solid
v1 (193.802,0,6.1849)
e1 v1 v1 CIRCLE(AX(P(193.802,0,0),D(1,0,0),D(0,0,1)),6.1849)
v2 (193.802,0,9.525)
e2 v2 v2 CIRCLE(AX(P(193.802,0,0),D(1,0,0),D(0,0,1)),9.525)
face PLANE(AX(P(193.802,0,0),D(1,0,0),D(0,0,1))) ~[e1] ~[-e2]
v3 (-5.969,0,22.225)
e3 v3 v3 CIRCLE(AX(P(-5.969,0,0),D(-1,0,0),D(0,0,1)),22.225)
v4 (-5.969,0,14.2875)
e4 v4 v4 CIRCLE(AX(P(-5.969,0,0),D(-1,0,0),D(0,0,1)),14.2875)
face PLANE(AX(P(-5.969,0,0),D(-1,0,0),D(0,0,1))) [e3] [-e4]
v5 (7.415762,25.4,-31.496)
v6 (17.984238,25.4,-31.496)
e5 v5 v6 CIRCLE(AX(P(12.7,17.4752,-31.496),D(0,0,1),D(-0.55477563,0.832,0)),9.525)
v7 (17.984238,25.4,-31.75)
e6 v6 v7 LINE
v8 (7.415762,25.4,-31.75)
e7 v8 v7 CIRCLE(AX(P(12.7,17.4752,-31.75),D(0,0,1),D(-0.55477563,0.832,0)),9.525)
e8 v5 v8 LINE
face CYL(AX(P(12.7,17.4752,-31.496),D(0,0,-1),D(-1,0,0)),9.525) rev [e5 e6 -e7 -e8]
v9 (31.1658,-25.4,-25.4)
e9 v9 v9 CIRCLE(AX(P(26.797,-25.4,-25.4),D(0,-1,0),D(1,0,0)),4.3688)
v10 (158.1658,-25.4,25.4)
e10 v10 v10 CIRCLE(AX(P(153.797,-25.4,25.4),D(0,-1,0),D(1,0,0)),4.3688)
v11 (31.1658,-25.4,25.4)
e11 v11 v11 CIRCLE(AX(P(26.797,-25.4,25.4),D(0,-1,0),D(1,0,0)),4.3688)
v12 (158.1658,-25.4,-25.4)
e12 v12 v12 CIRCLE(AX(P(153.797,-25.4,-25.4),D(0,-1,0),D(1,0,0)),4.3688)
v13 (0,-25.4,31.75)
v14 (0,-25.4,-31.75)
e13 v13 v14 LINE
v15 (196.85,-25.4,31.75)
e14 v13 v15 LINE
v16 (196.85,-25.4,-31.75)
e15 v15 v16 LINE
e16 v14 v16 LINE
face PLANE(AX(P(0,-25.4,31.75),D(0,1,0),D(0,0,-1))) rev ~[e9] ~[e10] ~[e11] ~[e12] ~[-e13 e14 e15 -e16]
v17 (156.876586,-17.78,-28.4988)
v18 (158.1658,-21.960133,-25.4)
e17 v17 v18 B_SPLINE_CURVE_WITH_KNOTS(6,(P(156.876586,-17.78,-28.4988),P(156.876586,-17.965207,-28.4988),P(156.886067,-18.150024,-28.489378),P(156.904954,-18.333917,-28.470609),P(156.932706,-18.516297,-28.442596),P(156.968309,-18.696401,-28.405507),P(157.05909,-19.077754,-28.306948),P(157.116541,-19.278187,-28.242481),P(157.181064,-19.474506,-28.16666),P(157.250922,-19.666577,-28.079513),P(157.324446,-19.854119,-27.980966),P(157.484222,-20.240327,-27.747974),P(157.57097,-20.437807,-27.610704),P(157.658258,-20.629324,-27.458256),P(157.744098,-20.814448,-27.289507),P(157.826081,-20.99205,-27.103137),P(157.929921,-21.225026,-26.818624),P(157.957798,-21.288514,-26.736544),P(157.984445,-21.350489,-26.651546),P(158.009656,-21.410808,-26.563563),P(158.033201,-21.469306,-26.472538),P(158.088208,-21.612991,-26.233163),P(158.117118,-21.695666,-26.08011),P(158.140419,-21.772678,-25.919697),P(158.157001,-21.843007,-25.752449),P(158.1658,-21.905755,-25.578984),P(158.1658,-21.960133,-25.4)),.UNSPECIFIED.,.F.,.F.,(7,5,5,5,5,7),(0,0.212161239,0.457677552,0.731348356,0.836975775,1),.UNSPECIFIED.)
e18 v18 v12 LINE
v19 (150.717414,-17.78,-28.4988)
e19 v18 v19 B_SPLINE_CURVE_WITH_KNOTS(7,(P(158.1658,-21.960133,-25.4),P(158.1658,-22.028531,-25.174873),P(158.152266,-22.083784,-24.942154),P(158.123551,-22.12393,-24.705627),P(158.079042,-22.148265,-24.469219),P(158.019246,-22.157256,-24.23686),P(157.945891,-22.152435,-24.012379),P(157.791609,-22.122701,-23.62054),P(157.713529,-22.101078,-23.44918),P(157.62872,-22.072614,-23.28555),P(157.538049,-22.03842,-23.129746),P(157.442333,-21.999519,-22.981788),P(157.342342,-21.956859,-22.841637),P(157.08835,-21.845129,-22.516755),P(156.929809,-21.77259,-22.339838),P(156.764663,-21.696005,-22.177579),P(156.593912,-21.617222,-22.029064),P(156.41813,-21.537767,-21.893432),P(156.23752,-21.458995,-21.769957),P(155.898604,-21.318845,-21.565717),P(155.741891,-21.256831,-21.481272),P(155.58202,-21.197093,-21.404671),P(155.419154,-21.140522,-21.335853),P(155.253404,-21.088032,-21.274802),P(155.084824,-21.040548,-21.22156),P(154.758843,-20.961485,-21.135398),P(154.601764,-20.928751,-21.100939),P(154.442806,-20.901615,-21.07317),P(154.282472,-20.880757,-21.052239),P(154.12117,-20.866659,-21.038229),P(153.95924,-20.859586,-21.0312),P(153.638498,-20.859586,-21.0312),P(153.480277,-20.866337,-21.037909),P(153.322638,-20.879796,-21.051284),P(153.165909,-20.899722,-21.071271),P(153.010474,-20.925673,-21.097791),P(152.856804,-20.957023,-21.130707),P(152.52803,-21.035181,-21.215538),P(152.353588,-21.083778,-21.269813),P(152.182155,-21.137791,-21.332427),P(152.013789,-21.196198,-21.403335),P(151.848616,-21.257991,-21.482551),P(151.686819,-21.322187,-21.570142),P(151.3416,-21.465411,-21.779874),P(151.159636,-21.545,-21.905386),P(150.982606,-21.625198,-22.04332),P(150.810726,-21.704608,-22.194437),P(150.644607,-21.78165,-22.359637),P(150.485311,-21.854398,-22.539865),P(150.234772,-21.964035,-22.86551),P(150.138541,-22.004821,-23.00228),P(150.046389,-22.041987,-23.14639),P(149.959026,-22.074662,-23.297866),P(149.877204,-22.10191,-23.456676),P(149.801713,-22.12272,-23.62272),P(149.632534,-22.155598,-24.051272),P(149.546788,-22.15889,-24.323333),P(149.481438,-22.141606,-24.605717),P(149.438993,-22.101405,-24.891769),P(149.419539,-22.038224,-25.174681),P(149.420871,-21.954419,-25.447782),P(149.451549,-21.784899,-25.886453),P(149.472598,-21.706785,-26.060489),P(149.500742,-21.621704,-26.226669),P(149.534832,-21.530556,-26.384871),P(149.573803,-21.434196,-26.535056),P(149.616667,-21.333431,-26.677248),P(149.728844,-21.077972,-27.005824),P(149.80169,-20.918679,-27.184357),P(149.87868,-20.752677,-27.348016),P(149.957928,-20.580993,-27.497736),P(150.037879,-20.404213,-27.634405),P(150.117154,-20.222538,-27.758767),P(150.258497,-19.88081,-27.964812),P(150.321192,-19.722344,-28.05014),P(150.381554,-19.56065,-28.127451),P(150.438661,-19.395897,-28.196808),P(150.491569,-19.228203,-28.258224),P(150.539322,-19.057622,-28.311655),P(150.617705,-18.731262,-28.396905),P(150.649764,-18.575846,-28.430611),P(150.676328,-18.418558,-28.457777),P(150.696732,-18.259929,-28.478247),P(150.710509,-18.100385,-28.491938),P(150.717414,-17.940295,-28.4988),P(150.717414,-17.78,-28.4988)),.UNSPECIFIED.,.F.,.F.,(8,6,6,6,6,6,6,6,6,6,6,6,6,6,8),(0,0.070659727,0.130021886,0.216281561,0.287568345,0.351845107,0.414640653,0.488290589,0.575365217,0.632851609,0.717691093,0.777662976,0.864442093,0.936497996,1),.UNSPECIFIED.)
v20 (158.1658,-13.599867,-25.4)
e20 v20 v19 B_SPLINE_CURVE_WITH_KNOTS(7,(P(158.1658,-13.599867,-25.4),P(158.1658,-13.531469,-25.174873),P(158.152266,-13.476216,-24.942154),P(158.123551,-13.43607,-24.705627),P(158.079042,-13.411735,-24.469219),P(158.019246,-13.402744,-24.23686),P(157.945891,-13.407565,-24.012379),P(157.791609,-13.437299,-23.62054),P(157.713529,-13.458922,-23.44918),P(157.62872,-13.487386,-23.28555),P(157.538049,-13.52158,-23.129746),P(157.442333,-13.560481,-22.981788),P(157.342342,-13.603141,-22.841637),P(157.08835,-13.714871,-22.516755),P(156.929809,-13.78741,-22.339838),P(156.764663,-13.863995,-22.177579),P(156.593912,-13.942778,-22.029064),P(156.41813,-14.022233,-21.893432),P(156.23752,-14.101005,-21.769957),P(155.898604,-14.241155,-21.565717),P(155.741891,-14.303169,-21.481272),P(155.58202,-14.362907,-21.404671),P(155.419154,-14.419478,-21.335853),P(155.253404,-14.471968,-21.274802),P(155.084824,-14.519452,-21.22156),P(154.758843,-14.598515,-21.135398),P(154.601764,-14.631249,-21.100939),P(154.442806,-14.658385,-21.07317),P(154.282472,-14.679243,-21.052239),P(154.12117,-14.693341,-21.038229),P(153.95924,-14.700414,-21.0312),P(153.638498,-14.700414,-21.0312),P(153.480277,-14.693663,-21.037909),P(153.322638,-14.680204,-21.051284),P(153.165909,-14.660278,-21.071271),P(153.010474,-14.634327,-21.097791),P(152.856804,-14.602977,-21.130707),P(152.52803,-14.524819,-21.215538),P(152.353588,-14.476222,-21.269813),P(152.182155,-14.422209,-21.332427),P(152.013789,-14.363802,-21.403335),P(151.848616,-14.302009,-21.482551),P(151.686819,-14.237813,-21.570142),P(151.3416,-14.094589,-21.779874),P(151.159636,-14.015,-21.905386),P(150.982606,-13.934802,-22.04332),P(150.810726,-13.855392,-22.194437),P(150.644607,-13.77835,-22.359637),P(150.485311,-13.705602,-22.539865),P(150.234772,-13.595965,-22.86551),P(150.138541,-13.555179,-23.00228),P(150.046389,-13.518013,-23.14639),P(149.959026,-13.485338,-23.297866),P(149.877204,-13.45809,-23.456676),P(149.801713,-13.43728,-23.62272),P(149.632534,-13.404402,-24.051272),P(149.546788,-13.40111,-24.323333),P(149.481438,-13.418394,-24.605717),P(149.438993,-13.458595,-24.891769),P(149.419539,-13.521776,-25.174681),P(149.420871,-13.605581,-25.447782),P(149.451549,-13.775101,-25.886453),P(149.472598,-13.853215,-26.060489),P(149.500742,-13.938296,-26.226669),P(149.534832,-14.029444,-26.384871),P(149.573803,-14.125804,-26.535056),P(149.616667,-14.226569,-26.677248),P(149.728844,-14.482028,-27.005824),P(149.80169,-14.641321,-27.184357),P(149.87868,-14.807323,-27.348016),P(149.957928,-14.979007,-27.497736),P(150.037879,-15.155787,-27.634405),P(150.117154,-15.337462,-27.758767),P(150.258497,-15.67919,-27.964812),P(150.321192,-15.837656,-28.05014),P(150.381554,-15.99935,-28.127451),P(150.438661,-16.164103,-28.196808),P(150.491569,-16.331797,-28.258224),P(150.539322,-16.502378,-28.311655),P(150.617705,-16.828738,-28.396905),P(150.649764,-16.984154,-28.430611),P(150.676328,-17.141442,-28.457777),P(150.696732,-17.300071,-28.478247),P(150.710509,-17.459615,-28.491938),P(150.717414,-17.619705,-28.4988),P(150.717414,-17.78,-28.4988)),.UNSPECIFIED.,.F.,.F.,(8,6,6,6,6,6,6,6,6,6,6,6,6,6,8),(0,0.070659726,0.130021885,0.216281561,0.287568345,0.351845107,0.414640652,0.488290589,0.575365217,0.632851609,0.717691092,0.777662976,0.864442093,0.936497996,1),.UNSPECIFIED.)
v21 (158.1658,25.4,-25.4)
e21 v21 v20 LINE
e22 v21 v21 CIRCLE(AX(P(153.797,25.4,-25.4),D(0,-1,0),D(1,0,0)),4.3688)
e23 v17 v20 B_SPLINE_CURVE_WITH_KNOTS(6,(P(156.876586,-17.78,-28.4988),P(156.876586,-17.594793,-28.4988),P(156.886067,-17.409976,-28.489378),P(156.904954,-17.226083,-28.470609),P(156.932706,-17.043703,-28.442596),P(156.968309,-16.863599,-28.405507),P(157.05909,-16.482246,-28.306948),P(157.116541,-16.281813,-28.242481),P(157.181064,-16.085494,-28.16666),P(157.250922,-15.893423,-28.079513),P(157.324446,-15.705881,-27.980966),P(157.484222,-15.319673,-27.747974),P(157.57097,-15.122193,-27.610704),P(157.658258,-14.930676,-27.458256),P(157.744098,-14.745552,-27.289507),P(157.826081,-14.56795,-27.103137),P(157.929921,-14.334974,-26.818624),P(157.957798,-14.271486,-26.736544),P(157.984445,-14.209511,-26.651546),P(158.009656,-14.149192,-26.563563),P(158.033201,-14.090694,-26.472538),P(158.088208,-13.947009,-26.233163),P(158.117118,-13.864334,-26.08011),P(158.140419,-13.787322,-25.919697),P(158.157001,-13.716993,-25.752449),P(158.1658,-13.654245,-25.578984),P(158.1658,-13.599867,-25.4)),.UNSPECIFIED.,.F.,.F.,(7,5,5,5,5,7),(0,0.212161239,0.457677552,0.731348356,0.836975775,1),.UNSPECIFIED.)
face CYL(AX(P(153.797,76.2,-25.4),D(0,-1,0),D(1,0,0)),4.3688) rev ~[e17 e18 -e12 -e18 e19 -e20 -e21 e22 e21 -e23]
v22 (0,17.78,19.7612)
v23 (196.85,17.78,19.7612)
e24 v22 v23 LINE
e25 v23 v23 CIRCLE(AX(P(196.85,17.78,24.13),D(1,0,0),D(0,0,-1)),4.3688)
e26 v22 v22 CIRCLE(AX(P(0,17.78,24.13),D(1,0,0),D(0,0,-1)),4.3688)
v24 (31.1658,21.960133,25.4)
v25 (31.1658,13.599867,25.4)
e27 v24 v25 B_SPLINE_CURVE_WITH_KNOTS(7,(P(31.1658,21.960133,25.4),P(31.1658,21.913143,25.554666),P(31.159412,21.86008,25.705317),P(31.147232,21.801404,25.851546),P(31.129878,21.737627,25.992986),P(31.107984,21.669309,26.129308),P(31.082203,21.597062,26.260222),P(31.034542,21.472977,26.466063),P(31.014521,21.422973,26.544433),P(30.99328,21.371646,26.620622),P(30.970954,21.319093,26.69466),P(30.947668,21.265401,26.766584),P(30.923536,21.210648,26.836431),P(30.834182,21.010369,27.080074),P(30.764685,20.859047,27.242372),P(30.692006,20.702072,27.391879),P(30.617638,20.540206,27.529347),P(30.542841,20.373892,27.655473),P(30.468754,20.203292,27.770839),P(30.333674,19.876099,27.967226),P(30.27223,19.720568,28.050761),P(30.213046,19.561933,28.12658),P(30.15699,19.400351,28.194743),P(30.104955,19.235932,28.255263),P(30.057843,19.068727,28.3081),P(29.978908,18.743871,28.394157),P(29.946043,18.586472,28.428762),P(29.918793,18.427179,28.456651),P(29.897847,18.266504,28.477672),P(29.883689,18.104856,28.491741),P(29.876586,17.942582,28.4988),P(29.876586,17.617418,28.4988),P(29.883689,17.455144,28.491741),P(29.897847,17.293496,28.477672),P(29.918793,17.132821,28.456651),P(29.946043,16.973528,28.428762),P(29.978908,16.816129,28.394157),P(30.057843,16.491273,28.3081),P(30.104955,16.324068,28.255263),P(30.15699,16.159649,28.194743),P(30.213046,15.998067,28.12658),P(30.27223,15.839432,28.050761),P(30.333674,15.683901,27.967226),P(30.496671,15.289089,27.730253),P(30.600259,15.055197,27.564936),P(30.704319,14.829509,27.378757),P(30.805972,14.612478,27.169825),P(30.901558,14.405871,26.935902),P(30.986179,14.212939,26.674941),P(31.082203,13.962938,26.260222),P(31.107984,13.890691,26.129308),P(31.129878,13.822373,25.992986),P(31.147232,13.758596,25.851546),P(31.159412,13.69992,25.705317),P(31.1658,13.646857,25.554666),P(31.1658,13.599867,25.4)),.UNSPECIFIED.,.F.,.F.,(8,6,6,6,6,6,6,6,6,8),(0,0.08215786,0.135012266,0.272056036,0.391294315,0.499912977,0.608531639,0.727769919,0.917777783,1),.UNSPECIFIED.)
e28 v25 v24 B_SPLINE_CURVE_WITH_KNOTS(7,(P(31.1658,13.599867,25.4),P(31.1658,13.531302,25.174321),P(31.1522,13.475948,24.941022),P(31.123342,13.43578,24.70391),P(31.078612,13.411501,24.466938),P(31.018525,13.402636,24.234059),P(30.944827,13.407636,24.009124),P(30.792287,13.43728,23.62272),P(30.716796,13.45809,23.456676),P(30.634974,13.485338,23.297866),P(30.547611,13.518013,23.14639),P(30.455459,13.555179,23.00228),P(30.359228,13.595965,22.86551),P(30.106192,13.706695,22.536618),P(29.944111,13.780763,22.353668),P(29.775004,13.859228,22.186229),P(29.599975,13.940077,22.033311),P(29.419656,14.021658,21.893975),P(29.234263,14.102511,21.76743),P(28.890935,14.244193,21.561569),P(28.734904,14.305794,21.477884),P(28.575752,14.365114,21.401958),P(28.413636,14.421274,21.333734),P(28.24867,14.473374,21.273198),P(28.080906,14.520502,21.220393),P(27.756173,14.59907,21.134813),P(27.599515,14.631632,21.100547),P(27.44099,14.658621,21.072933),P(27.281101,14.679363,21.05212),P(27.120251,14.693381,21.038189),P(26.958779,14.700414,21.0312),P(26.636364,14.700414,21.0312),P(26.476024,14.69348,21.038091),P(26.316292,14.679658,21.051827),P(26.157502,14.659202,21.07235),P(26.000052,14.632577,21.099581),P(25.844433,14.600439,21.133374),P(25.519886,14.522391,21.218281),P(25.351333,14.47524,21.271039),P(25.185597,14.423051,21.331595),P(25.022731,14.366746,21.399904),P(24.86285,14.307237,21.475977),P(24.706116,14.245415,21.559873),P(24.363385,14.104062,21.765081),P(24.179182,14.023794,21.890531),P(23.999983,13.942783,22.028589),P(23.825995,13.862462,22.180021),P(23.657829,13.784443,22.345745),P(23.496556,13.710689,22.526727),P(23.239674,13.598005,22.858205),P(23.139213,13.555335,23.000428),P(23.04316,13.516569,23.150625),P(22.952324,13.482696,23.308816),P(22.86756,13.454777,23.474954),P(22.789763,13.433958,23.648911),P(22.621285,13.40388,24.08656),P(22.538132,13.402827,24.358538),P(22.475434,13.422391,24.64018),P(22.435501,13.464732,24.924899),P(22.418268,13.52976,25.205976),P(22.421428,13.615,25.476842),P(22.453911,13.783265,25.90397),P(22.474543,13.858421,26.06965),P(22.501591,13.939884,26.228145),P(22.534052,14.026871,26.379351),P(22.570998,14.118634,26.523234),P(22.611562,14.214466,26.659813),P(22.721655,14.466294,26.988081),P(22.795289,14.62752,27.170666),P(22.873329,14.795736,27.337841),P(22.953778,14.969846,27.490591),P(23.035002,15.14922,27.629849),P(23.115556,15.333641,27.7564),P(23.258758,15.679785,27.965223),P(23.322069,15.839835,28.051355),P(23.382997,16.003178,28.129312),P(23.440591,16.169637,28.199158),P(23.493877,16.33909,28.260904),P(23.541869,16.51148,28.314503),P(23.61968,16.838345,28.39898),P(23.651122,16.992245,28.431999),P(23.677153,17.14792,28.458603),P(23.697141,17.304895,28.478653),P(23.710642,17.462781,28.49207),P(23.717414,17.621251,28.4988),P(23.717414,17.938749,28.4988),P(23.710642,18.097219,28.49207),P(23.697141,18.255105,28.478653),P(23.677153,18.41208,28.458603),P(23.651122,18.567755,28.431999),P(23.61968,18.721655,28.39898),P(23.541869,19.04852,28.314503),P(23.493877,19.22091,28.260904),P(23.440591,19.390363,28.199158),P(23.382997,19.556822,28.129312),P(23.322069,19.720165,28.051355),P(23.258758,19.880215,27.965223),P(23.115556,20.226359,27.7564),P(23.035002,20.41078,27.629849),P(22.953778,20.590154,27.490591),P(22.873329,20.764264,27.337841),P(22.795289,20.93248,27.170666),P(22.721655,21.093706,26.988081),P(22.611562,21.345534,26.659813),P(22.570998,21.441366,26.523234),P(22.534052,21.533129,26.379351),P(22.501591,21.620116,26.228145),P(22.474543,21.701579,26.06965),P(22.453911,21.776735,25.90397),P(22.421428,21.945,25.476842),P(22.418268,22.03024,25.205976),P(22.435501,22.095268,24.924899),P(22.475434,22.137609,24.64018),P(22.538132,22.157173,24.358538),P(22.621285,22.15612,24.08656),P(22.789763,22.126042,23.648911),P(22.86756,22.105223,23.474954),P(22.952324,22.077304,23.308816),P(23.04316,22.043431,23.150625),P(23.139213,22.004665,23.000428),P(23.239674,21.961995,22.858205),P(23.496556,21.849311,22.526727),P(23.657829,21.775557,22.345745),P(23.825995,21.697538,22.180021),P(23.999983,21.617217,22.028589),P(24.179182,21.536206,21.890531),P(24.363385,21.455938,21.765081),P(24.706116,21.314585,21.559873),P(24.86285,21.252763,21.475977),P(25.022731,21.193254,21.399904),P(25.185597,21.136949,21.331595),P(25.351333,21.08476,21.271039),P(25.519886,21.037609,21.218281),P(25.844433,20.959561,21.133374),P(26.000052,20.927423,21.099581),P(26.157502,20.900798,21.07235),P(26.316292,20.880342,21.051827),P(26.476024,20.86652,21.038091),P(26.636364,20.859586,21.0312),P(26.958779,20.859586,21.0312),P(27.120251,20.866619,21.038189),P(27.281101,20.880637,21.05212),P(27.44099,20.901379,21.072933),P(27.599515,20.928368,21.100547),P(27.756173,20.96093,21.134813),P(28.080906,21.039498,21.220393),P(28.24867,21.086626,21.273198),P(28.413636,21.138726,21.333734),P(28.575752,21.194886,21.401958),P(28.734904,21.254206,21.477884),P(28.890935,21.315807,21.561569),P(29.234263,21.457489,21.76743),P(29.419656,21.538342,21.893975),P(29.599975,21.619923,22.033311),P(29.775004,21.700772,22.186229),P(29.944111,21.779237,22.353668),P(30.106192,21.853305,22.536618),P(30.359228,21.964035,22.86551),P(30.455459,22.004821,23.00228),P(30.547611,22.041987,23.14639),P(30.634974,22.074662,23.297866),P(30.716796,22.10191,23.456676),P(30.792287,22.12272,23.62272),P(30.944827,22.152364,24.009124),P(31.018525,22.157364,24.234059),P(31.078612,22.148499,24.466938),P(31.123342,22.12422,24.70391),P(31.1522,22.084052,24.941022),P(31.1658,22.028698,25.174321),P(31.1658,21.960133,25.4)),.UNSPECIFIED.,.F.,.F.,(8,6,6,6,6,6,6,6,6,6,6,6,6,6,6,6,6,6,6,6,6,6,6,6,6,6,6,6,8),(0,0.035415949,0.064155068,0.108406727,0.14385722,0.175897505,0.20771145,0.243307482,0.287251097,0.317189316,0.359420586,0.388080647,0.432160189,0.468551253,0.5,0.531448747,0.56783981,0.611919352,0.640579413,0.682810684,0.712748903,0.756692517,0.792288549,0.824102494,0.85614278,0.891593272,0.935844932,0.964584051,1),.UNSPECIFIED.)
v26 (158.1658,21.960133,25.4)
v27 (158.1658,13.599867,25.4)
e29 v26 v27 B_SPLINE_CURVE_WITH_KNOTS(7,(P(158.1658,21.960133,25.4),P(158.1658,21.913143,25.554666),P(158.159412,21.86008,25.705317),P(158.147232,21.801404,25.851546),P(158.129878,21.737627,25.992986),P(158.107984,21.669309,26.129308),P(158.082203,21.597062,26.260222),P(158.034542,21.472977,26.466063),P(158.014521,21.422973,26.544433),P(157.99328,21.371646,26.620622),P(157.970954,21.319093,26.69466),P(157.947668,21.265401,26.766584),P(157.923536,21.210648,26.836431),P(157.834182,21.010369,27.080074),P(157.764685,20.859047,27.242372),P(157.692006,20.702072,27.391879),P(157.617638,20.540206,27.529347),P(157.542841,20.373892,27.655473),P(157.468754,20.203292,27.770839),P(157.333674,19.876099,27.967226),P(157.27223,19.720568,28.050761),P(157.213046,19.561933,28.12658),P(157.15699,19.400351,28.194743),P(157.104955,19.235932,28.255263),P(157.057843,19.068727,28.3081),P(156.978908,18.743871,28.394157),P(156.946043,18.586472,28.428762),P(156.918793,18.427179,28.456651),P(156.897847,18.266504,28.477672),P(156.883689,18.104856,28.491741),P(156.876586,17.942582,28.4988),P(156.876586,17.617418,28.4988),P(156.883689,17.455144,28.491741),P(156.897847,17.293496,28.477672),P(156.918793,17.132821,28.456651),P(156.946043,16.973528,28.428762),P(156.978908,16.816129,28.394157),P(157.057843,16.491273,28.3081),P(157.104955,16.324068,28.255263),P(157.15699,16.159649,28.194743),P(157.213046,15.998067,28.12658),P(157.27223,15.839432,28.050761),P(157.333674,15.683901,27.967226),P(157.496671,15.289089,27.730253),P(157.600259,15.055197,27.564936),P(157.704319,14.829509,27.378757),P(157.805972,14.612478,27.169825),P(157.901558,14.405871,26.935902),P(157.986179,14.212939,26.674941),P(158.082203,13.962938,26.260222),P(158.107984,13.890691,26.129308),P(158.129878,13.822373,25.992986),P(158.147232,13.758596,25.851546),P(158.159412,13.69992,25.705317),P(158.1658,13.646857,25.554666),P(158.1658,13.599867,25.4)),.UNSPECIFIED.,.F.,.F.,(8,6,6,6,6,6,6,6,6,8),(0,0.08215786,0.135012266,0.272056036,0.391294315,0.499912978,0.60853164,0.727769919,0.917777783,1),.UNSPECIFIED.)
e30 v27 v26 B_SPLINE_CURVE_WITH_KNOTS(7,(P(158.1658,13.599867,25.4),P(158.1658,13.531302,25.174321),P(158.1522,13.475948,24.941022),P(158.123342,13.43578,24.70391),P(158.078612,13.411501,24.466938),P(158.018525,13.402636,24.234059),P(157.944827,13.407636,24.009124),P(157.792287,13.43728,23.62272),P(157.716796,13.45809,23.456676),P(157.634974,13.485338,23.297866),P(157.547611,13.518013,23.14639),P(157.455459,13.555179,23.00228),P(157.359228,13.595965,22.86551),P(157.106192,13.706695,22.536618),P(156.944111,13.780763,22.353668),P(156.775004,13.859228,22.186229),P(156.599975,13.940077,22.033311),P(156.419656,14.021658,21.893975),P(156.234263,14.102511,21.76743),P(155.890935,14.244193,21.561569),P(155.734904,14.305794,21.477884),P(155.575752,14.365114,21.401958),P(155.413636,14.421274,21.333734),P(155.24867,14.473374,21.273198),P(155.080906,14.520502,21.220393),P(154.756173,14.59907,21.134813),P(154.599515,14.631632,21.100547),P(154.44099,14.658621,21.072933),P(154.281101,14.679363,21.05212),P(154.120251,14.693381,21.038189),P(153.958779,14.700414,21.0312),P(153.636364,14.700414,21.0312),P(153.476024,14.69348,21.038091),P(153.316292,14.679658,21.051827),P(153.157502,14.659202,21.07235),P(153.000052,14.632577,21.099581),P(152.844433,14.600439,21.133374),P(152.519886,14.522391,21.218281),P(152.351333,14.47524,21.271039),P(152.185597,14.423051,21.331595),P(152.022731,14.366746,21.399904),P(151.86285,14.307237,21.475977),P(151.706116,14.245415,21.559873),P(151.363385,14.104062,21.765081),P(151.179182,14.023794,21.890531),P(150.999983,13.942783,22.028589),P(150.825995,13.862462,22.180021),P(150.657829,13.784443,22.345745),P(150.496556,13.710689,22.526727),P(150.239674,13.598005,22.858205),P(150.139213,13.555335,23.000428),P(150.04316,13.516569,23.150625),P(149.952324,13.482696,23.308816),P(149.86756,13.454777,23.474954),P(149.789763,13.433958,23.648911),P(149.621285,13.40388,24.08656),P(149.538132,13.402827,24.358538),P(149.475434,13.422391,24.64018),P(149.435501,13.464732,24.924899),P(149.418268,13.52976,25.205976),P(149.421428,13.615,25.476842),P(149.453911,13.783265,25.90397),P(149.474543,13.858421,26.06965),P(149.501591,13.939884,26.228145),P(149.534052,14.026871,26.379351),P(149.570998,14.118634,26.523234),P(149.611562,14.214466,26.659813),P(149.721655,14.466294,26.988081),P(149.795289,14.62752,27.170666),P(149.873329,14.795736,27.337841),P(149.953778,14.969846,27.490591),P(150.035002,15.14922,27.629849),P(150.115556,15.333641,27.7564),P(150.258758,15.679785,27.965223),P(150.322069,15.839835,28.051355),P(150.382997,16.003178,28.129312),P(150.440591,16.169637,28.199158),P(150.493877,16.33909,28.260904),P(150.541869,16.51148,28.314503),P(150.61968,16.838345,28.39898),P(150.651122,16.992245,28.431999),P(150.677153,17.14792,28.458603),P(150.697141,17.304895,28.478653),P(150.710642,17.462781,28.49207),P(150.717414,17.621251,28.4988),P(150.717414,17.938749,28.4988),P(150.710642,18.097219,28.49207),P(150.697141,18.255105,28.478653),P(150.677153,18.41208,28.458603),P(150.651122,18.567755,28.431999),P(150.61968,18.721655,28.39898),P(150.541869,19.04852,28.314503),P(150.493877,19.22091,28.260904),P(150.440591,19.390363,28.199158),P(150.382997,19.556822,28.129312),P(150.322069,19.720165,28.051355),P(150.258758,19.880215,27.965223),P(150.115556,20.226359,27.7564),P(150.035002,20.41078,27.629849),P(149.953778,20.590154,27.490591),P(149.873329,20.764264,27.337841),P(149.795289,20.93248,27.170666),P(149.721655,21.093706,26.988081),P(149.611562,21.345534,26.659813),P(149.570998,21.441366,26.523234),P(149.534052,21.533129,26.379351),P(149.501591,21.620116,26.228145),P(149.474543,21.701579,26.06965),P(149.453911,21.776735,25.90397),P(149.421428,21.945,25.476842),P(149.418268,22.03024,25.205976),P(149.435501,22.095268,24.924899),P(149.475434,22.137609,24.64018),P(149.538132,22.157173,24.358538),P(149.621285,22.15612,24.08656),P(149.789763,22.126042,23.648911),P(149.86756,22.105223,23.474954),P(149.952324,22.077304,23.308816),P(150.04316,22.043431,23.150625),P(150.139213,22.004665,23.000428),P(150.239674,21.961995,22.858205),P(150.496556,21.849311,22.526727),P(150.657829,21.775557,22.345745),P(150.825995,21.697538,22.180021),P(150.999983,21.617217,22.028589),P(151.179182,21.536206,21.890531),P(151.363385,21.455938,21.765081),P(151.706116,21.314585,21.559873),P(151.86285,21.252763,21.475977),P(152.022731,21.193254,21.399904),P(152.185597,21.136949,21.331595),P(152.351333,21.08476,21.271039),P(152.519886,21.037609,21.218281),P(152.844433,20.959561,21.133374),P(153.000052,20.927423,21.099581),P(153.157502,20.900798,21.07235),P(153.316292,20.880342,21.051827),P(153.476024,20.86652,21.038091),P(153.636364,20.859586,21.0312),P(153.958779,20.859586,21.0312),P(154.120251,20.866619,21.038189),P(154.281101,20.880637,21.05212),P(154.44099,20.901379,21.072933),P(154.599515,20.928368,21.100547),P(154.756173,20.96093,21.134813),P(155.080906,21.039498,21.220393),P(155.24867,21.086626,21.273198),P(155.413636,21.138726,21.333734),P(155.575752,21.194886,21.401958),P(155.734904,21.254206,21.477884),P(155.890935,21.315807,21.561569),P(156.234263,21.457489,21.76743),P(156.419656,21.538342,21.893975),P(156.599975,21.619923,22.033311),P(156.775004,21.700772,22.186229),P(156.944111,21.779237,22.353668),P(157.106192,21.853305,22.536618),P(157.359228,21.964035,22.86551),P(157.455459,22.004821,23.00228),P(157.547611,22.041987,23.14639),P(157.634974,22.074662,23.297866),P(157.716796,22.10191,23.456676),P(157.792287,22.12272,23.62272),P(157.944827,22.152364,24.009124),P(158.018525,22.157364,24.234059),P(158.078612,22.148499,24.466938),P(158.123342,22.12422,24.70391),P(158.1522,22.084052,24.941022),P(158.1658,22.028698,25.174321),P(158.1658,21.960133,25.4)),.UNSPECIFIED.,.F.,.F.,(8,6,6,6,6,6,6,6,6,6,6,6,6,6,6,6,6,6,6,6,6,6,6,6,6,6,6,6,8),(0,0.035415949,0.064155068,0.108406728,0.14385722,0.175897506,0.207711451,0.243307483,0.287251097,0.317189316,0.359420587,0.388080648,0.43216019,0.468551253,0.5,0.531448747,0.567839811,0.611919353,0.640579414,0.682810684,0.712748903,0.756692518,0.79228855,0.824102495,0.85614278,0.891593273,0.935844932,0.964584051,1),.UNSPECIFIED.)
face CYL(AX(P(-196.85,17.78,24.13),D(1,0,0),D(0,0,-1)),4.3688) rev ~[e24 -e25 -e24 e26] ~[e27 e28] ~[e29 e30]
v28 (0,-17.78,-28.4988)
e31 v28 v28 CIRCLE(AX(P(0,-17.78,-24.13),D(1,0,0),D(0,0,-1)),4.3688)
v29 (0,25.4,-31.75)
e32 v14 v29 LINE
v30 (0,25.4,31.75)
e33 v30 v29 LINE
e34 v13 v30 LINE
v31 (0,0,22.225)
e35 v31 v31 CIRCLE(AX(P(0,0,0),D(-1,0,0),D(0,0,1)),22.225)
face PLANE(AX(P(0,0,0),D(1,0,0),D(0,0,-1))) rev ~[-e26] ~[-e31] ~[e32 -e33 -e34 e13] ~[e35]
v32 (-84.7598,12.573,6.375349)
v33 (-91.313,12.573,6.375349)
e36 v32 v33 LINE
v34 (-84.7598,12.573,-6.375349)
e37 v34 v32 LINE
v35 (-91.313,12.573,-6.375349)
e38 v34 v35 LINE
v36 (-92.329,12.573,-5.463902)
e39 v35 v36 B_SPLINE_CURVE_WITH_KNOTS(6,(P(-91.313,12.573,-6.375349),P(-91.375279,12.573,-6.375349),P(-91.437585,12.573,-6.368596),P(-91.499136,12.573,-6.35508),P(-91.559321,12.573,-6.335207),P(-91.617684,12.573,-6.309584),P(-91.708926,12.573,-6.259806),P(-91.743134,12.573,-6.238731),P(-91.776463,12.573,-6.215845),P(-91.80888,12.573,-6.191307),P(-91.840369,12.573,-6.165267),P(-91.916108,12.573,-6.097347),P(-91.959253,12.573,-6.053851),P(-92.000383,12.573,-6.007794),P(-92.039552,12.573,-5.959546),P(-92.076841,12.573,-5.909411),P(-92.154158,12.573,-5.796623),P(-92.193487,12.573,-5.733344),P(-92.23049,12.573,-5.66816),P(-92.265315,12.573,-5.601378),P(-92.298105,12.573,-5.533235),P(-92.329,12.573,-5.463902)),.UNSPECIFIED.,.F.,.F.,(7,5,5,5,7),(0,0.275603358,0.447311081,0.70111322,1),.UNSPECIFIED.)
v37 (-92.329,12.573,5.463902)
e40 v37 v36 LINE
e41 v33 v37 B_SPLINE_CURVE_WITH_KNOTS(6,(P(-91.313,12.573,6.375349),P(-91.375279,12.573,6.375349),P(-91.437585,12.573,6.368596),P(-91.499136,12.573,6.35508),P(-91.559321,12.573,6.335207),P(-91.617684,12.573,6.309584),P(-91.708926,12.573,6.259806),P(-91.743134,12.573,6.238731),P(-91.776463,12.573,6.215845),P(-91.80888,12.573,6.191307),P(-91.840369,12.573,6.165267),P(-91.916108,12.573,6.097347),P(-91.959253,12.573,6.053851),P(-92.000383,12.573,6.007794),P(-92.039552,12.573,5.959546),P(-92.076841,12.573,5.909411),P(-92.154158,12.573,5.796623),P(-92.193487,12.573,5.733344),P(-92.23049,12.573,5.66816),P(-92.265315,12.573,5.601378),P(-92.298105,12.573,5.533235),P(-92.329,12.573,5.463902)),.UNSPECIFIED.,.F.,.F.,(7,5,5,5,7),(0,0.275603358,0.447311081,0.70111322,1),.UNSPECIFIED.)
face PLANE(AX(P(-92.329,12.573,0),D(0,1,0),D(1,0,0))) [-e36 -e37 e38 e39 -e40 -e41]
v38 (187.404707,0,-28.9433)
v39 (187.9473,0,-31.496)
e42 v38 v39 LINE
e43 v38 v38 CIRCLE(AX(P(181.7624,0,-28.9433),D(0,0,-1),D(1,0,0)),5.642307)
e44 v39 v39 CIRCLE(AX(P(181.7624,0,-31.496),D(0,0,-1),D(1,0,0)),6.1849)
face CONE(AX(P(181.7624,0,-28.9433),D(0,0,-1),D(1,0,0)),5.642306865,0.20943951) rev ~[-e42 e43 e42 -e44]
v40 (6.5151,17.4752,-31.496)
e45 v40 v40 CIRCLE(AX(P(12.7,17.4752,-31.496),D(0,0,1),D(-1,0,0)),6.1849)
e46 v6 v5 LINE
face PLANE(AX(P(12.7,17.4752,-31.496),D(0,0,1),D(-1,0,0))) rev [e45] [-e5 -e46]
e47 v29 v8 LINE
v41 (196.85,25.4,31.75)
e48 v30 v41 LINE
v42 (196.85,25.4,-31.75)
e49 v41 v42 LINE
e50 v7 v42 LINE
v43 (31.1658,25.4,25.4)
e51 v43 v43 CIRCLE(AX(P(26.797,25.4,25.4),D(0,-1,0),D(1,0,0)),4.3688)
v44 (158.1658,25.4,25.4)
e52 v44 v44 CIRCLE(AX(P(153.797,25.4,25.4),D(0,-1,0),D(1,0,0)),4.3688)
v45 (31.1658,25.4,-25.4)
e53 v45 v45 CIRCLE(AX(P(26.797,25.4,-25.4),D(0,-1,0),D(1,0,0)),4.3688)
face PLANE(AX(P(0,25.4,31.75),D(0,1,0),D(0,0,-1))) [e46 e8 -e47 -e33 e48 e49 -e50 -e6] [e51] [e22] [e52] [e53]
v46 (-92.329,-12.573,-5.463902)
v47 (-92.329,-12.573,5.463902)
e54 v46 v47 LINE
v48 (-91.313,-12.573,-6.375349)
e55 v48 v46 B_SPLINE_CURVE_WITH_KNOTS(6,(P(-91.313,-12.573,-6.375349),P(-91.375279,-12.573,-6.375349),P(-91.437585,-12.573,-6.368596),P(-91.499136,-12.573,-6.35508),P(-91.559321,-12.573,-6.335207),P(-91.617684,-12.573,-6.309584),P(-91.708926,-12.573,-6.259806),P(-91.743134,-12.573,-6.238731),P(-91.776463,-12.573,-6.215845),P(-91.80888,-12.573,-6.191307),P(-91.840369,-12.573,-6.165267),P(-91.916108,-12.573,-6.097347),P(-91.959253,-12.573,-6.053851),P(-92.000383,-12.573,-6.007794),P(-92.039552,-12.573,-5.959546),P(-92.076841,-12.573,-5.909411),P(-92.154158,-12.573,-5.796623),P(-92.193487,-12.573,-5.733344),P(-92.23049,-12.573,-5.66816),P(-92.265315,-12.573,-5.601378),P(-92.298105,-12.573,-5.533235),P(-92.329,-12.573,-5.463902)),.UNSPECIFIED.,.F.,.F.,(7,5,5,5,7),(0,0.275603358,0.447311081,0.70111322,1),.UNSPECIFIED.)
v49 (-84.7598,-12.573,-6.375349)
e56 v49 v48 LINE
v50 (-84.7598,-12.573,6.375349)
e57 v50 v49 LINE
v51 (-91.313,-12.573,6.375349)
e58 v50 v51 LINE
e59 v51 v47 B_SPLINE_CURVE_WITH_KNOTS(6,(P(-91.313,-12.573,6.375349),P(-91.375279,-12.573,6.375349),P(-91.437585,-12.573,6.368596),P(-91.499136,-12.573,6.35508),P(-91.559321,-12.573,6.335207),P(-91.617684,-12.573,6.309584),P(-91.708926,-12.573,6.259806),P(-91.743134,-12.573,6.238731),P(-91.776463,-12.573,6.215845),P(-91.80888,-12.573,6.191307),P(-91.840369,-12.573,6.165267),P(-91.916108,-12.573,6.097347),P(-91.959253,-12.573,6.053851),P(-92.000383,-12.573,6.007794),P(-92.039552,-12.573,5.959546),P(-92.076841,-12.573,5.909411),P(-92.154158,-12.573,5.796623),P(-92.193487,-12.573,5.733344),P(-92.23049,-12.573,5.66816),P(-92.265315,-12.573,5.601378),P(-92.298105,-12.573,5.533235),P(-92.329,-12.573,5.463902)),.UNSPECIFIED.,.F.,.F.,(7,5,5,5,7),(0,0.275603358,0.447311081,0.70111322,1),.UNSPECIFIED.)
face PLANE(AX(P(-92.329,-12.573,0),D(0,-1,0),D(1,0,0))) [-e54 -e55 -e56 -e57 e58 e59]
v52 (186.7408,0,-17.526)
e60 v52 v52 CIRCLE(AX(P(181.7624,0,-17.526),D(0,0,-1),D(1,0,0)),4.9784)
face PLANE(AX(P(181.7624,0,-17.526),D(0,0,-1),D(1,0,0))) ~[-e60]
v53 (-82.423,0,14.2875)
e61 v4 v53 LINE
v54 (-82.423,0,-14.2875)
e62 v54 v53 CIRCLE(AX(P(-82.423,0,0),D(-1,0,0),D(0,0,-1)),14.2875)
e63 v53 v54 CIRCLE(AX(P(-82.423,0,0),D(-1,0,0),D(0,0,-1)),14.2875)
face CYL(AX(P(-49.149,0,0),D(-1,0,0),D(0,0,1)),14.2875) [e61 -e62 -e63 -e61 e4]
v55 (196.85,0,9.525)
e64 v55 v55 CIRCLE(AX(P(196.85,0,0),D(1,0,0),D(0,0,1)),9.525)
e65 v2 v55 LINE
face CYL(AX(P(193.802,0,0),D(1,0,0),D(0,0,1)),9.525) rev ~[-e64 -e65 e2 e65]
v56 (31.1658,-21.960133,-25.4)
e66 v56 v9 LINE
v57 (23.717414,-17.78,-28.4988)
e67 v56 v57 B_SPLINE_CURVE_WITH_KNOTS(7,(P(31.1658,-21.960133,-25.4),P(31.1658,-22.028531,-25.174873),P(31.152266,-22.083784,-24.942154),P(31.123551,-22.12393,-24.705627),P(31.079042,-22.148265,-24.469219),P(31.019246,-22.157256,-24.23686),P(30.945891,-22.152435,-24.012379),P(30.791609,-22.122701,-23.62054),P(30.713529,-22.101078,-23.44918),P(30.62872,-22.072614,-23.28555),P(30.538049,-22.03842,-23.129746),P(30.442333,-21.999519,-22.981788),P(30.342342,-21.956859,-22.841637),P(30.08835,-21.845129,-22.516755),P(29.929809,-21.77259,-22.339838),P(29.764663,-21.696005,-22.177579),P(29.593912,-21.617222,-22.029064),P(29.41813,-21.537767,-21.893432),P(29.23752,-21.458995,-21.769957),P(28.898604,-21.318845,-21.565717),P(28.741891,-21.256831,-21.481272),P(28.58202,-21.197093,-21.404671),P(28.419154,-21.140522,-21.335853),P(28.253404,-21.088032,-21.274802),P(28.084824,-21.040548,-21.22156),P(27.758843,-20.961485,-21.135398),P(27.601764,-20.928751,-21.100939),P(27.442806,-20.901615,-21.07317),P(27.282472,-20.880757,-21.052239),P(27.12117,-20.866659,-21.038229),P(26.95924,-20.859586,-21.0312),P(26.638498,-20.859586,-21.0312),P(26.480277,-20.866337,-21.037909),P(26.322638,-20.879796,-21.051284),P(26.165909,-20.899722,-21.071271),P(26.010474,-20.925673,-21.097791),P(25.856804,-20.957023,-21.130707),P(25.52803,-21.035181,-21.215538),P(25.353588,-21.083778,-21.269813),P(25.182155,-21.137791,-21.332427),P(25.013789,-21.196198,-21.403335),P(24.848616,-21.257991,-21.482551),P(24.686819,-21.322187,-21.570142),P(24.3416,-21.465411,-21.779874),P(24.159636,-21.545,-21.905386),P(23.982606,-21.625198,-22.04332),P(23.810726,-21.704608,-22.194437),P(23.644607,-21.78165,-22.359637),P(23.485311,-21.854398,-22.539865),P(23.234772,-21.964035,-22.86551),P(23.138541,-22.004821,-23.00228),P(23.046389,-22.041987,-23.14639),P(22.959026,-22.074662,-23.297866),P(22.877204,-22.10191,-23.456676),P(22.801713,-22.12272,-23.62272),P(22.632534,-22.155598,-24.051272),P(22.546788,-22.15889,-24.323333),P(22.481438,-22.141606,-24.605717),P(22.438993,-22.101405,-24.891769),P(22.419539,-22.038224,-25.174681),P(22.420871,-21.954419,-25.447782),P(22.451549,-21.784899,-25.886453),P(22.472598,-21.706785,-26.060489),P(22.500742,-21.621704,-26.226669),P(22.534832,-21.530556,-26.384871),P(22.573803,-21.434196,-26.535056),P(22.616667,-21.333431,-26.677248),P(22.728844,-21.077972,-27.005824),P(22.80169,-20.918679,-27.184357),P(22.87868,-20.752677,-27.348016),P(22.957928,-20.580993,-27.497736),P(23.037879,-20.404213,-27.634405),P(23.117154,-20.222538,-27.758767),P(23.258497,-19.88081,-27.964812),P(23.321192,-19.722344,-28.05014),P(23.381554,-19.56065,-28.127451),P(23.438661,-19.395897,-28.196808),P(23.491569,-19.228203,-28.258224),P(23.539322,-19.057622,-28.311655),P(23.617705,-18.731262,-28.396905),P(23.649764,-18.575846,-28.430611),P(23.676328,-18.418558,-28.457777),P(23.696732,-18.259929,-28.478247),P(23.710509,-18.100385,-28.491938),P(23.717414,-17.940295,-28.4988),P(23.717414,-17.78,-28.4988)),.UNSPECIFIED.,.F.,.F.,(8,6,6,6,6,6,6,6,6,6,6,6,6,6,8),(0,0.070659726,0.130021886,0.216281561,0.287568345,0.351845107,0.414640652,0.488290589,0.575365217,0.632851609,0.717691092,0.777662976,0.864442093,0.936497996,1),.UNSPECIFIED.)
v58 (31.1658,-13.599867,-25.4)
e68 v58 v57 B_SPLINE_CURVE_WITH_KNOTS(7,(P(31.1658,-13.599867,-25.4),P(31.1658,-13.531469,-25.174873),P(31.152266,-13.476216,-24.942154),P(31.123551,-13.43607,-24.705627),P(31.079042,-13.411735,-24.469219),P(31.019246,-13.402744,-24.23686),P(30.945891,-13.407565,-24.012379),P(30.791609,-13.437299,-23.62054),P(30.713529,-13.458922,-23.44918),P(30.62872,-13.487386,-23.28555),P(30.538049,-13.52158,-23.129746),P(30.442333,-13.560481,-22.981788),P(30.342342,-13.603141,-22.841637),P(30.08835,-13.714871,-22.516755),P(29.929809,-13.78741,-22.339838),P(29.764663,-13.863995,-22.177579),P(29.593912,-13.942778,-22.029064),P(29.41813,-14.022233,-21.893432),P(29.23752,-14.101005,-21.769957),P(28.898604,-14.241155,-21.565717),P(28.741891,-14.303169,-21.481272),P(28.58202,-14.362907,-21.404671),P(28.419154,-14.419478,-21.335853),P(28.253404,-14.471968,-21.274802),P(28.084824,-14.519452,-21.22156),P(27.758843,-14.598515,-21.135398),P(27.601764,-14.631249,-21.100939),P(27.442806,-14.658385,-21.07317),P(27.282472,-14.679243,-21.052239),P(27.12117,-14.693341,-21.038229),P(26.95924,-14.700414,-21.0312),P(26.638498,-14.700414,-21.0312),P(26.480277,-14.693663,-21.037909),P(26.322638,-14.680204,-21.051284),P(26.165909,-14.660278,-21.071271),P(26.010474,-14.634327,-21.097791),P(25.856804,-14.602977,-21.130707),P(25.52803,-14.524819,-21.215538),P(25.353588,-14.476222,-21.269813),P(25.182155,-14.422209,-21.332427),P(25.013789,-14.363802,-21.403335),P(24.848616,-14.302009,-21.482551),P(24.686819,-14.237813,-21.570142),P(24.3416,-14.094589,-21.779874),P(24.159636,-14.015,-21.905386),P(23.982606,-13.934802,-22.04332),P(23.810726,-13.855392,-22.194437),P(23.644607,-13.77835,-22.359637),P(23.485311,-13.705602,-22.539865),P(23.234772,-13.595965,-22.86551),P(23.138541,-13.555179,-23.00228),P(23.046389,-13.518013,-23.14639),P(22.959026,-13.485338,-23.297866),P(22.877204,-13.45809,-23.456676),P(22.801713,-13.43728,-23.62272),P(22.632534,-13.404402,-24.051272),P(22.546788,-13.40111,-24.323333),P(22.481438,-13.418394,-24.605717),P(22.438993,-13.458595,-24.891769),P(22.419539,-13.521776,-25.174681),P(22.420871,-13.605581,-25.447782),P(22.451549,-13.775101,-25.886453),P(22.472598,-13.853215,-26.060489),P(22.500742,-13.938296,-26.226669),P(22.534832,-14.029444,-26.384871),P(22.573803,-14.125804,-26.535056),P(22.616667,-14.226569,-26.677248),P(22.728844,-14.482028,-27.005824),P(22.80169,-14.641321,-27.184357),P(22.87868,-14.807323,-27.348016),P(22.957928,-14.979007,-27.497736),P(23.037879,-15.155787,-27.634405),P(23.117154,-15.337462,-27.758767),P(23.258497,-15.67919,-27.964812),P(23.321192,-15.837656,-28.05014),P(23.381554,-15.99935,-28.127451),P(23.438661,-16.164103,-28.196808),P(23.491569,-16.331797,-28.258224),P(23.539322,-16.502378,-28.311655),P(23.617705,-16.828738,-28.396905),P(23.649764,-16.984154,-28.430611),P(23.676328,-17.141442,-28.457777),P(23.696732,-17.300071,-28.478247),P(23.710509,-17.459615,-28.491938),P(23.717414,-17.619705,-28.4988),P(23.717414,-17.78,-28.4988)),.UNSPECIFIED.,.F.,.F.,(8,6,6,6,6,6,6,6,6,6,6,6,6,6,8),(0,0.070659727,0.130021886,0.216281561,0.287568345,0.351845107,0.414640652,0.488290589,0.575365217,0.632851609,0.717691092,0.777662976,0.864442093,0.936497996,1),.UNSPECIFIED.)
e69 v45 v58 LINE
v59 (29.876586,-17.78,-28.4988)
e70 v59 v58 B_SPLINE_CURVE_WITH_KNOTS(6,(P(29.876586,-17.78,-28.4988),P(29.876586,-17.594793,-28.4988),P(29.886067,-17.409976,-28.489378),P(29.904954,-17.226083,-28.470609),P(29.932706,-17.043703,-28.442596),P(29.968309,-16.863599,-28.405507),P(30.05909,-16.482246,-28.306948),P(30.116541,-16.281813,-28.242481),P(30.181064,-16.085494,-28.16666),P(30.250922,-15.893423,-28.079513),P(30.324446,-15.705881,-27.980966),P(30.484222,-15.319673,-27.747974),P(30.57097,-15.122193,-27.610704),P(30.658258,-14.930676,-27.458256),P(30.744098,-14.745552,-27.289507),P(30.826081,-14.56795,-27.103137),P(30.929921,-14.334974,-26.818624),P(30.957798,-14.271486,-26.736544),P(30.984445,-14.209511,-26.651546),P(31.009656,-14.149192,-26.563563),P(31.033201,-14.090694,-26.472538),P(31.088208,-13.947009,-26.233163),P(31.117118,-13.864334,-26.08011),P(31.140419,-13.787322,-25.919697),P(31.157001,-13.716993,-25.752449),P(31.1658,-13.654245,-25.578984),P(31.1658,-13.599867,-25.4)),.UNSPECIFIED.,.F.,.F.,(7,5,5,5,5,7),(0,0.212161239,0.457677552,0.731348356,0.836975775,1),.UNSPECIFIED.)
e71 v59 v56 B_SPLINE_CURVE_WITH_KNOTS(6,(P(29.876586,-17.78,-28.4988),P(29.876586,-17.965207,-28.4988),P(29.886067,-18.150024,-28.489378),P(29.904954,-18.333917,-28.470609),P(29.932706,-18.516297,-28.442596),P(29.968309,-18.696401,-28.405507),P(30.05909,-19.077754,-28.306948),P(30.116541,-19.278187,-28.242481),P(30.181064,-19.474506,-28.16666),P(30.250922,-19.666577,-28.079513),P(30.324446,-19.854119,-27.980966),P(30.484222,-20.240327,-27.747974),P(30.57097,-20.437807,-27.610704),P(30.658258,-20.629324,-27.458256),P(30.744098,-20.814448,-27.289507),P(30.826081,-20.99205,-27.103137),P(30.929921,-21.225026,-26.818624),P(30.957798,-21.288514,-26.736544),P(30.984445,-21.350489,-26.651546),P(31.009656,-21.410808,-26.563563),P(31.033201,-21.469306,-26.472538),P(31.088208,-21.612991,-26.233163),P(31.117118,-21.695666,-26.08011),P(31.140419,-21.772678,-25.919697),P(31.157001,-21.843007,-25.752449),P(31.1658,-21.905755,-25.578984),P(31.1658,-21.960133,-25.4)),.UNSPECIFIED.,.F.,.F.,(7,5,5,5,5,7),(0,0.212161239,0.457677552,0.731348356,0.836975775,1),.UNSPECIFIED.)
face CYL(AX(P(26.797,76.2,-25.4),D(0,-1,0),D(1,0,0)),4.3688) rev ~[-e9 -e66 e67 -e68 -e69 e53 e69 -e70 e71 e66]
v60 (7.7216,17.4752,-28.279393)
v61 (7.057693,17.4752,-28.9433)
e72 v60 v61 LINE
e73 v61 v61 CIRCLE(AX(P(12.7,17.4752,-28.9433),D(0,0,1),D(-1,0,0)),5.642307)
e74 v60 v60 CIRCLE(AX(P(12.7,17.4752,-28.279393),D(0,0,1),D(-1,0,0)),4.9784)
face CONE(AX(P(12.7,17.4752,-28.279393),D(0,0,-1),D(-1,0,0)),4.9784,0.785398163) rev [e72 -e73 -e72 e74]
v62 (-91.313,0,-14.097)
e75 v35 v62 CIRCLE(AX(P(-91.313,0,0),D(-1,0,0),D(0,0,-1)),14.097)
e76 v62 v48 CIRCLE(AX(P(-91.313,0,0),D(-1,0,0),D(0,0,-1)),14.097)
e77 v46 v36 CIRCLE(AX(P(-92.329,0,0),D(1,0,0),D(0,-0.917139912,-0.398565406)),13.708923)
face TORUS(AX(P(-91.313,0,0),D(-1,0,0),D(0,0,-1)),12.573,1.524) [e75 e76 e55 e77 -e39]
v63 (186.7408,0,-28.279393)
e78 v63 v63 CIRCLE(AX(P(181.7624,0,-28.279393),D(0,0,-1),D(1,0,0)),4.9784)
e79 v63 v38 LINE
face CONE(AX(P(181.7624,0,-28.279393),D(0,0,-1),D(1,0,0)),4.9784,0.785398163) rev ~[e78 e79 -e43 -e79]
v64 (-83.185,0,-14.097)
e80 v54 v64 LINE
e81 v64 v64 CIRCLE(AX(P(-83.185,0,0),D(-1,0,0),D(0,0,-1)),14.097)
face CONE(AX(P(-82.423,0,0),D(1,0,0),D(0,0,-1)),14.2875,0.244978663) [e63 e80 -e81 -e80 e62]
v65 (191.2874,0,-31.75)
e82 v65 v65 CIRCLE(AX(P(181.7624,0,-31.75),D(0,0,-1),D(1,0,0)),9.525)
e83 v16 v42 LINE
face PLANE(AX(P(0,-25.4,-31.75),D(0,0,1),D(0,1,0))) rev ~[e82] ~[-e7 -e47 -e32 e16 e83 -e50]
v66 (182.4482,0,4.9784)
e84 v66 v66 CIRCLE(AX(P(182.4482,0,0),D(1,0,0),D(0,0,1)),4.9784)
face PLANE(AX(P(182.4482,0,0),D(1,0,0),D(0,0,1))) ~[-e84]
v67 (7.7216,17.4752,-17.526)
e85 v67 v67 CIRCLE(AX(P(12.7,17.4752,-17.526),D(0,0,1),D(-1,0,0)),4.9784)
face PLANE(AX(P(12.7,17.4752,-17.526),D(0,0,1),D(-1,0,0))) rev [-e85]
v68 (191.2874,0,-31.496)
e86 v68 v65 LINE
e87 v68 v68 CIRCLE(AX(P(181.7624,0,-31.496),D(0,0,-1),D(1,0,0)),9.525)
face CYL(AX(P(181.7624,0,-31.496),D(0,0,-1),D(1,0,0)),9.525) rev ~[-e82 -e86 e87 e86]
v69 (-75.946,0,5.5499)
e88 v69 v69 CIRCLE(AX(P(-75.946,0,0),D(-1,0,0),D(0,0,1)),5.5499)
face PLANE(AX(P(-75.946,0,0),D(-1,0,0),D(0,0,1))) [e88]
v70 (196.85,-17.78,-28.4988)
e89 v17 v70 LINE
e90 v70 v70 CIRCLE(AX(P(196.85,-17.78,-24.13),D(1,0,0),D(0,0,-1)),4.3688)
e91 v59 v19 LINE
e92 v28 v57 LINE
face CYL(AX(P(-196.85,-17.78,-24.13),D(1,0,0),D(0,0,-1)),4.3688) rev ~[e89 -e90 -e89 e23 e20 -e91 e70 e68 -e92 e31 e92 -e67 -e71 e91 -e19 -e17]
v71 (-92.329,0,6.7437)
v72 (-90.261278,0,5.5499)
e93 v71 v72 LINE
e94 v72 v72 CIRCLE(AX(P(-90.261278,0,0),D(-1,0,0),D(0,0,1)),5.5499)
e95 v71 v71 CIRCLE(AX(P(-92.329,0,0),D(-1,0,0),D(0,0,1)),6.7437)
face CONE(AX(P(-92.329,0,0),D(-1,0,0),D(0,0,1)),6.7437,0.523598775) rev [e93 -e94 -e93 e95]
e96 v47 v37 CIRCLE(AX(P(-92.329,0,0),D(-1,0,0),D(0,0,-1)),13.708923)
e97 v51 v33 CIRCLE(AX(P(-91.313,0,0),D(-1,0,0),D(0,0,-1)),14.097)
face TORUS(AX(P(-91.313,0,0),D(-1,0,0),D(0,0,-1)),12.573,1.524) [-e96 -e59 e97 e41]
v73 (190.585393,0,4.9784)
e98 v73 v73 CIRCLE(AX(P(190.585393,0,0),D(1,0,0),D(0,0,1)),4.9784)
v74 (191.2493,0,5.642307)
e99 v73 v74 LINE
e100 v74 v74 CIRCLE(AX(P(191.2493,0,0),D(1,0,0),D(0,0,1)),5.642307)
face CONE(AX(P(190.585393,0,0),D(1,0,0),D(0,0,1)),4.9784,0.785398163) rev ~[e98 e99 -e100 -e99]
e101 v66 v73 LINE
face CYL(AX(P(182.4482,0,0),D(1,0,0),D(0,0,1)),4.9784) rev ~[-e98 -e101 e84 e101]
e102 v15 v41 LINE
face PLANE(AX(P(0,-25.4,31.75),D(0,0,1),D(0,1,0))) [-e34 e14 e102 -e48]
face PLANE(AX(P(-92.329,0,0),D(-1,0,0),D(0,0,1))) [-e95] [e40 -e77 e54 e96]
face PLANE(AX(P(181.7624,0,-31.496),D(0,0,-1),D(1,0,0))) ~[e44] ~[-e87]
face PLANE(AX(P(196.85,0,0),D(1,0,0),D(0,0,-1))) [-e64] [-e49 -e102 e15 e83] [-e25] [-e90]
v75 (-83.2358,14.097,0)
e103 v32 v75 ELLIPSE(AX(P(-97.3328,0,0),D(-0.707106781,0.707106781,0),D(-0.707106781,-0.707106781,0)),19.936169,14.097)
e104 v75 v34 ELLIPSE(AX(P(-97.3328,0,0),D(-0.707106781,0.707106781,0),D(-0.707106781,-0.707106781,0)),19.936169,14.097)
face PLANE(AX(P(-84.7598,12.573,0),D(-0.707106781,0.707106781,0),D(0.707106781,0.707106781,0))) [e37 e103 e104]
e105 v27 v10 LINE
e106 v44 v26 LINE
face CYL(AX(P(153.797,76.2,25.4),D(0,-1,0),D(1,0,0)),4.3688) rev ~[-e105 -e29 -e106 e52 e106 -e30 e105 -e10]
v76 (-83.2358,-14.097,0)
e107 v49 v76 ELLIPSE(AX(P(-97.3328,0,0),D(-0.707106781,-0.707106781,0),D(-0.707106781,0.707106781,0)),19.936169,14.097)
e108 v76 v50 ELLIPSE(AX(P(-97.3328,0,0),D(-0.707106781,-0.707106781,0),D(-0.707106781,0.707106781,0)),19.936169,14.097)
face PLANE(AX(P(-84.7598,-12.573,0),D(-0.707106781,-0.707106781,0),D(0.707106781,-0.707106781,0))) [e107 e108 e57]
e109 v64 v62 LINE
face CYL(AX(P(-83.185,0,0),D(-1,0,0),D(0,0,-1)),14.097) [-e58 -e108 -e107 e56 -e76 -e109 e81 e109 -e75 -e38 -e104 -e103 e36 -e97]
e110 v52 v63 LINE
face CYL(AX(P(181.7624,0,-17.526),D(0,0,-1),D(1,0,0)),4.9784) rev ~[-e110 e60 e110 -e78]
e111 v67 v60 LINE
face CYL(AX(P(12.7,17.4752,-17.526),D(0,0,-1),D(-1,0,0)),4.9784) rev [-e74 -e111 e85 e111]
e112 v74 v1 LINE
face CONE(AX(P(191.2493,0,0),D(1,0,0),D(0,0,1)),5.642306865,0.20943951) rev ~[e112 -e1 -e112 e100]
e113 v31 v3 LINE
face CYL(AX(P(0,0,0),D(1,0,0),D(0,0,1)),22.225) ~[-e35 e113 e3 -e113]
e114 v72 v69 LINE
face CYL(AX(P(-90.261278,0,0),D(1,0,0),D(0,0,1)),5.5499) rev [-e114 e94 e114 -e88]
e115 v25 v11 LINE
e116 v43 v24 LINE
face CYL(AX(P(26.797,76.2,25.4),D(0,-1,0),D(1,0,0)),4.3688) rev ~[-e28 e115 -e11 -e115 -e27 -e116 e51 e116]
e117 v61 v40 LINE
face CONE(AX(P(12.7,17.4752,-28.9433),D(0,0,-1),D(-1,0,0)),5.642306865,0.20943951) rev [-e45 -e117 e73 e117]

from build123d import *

# Parameters (mm, degrees)
SKETCH1_W          = 63.5
SKETCH1_H          = 50.8
EXTRUDE1_DEPTH     = 196.85
SKETCH5_R          = 22.225
EXTRUDE2_DEPTH     = 5.969
SKETCH6_W          = 14.2875
SKETCH6_H          = 86.36
CUT_EXTRUDE4_DEPTH = 30.48
HOLE1_D            = 8.7376
HOLE1_DEPTH        = 196.85
HOLE2_D            = 8.7376
HOLE2_DEPTH        = 50.8
LPATTERN1_COUNT    = 2
LPATTERN1_PITCH    = 127


with BuildPart() as part:
    # Sketch1 → Extrude1 (new body)
    with BuildSketch(Plane(origin=(0, 0, 0), x_dir=(0, 0, -1), z_dir=(1, 0, 0))):
        Rectangle(SKETCH1_W, SKETCH1_H)
    extrude(amount=EXTRUDE1_DEPTH)

    # S2D0002 → Cut-Revolve1 (revolve, cut)
    with BuildSketch(Plane(origin=(0, 17.4752, 0), x_dir=(-1, 0, 0), z_dir=(0, 1, 0)), mode=Mode.PRIVATE) as cut_revolve1_sk:
        Polygon((-18.8849, -31.496), (-22.225, -31.496), (-22.225, -31.75), (-12.7, -31.75), (-12.7, -17.526), (-17.6784, -17.526), (-17.6784, -28.279393135), (-18.342306865, -28.9433), align=None)
    revolve(cut_revolve1_sk.sketch.rotate(Axis((12.7, 17.4752, -19.13842003), (0, 0, 1)), 180), axis=Axis((12.7, 17.4752, -19.13842003), (0, 0, 1)), mode=Mode.SUBTRACT)  # turned: the seam where the file's is

    # Sketch3 → Cut-Revolve2 (revolve, cut)
    with BuildSketch(Plane(origin=(41.148, 0, -25.146), x_dir=(1, 0, 0), z_dir=(0, 1, 0))):
        Polygon((146.7993, 6.35), (150.1394, 6.35), (150.1394, 6.604), (140.6144, 6.604), (140.6144, -7.62), (145.5928, -7.62), (145.5928, 3.133393135), (146.256706865, 3.7973), align=None)
    revolve(axis=Axis((181.7624, 0, -3.189624441), (0, 0, -1)), mode=Mode.SUBTRACT)

    # Sketch4 → Cut-Revolve3 (revolve, cut)
    with BuildSketch(Plane(origin=(53.975, 0, 0), x_dir=(0, -1, 0), z_dir=(0, 0, 1)), mode=Mode.PRIVATE) as cut_revolve3_sk:
        Polygon((6.1849, 139.827), (9.525, 139.827), (9.525, 142.875), (0, 142.875), (0, 128.4732), (4.9784, 128.4732), (4.9784, 136.610393135), (5.642306865, 137.2743), align=None)
    revolve(cut_revolve3_sk.sketch.rotate(Axis((38.879609832, 0, 0), (1, 0, 0)), 270), axis=Axis((38.879609832, 0, 0), (1, 0, 0)), mode=Mode.SUBTRACT)  # turned: the seam where the file's is

    # Sketch5 → Extrude2 (add)
    with BuildSketch(Plane.ZY):
        Circle(SKETCH5_R)
    extrude(amount=EXTRUDE2_DEPTH)

    # Sketch6 → Revolve1 (revolve)
    with BuildSketch(Plane(origin=(0, 0, 0), x_dir=(0, 0, 1), z_dir=(0, -1, 0)), mode=Mode.PRIVATE) as revolve1_sk:
        with Locations((-7.14375, 49.149)):
            Rectangle(SKETCH6_W, SKETCH6_H)
    revolve(revolve1_sk.sketch.rotate(Axis((5.754582971, 0, 0), (-1, 0, 0)), 180), axis=Axis((5.754582971, 0, 0), (-1, 0, 0)))  # turned: the seam where the file's is

    # S2D0001 → Cut-Revolve4 (revolve, cut)
    with BuildSketch(Plane(origin=(-18.511260017, 3.2639, 0), x_dir=(0, 1, 0), z_dir=(0, 0, 1)), mode=Mode.PRIVATE) as cut_revolve4_sk:
        Polygon((2.286, 71.750017728), (2.286, 57.434739983), (-3.2639, 57.434739983), (-3.2639, 73.817739983), (3.4798, 73.817739983), align=None)
    revolve(cut_revolve4_sk.sketch.rotate(Axis((0, 0, 0), (-1, 0, 0)), 270), axis=Axis((0, 0, 0), (-1, 0, 0)), mode=Mode.SUBTRACT)  # turned: the seam where the file's is

    # Sketch8 → Cut-Revolve5 (revolve, cut)
    with BuildSketch(Plane(origin=(0, 0, 0), x_dir=(0, 0, -1), z_dir=(0, 1, 0)), mode=Mode.PRIVATE) as cut_revolve5_sk:
        with BuildLine():
            Line((-14.2875, 82.423), (-14.097, 83.185))
            Line((-14.097, 83.185), (-14.097, 91.313))
            ThreePointArc((-14.097, 91.313), (-13.996678675, 91.856796865), (-13.708922533, 92.329))
            Line((-13.708922533, 92.329), (-14.2875, 92.329))
            Line((-14.2875, 92.329), (-14.2875, 82.423))
        make_face()
    revolve(cut_revolve5_sk.sketch.rotate(Axis((-12.65936, 0, 0), (-1, 0, 0)), 180), axis=Axis((-12.65936, 0, 0), (-1, 0, 0)), mode=Mode.SUBTRACT)  # turned: the seam where the file's is

    # Sketch12 → Cut-Extrude4 (cut, symmetric)
    with BuildSketch(Plane(origin=(0, 0, 0), x_dir=(0, -1, 0), z_dir=(0, 0, -1))):
        Polygon((12.573, 92.329), (12.573, 84.7598), (14.097, 83.2358), (14.097, 92.329), align=None)
        Polygon((-12.573, 92.329), (-12.573, 84.7598), (-14.097, 83.2358), (-14.097, 92.329), align=None)
    extrude(amount=CUT_EXTRUDE4_DEPTH, both=True, mode=Mode.SUBTRACT)

    # Hole1
    with Locations(Plane.ZY):
        with Locations((-24.13, -17.78), (24.13, 17.78)):
            Hole(HOLE1_D / 2, depth=HOLE1_DEPTH)

    # Hole2
    with Locations(Plane(origin=(0, 25.4, 0), x_dir=(-1, 0, 0), z_dir=(0, 1, 0))):
        with Locations((-26.797, -25.4), (-26.797, 25.4)):
            hole2 = Hole(HOLE2_D / 2, depth=HOLE2_DEPTH)

    # LPattern1: Hole2 ×2
    with Locations(*[(i * LPATTERN1_PITCH, 0, 0) for i in range(1, LPATTERN1_COUNT)]):
        add(hole2, mode=Mode.SUBTRACT)


solid = part.part
